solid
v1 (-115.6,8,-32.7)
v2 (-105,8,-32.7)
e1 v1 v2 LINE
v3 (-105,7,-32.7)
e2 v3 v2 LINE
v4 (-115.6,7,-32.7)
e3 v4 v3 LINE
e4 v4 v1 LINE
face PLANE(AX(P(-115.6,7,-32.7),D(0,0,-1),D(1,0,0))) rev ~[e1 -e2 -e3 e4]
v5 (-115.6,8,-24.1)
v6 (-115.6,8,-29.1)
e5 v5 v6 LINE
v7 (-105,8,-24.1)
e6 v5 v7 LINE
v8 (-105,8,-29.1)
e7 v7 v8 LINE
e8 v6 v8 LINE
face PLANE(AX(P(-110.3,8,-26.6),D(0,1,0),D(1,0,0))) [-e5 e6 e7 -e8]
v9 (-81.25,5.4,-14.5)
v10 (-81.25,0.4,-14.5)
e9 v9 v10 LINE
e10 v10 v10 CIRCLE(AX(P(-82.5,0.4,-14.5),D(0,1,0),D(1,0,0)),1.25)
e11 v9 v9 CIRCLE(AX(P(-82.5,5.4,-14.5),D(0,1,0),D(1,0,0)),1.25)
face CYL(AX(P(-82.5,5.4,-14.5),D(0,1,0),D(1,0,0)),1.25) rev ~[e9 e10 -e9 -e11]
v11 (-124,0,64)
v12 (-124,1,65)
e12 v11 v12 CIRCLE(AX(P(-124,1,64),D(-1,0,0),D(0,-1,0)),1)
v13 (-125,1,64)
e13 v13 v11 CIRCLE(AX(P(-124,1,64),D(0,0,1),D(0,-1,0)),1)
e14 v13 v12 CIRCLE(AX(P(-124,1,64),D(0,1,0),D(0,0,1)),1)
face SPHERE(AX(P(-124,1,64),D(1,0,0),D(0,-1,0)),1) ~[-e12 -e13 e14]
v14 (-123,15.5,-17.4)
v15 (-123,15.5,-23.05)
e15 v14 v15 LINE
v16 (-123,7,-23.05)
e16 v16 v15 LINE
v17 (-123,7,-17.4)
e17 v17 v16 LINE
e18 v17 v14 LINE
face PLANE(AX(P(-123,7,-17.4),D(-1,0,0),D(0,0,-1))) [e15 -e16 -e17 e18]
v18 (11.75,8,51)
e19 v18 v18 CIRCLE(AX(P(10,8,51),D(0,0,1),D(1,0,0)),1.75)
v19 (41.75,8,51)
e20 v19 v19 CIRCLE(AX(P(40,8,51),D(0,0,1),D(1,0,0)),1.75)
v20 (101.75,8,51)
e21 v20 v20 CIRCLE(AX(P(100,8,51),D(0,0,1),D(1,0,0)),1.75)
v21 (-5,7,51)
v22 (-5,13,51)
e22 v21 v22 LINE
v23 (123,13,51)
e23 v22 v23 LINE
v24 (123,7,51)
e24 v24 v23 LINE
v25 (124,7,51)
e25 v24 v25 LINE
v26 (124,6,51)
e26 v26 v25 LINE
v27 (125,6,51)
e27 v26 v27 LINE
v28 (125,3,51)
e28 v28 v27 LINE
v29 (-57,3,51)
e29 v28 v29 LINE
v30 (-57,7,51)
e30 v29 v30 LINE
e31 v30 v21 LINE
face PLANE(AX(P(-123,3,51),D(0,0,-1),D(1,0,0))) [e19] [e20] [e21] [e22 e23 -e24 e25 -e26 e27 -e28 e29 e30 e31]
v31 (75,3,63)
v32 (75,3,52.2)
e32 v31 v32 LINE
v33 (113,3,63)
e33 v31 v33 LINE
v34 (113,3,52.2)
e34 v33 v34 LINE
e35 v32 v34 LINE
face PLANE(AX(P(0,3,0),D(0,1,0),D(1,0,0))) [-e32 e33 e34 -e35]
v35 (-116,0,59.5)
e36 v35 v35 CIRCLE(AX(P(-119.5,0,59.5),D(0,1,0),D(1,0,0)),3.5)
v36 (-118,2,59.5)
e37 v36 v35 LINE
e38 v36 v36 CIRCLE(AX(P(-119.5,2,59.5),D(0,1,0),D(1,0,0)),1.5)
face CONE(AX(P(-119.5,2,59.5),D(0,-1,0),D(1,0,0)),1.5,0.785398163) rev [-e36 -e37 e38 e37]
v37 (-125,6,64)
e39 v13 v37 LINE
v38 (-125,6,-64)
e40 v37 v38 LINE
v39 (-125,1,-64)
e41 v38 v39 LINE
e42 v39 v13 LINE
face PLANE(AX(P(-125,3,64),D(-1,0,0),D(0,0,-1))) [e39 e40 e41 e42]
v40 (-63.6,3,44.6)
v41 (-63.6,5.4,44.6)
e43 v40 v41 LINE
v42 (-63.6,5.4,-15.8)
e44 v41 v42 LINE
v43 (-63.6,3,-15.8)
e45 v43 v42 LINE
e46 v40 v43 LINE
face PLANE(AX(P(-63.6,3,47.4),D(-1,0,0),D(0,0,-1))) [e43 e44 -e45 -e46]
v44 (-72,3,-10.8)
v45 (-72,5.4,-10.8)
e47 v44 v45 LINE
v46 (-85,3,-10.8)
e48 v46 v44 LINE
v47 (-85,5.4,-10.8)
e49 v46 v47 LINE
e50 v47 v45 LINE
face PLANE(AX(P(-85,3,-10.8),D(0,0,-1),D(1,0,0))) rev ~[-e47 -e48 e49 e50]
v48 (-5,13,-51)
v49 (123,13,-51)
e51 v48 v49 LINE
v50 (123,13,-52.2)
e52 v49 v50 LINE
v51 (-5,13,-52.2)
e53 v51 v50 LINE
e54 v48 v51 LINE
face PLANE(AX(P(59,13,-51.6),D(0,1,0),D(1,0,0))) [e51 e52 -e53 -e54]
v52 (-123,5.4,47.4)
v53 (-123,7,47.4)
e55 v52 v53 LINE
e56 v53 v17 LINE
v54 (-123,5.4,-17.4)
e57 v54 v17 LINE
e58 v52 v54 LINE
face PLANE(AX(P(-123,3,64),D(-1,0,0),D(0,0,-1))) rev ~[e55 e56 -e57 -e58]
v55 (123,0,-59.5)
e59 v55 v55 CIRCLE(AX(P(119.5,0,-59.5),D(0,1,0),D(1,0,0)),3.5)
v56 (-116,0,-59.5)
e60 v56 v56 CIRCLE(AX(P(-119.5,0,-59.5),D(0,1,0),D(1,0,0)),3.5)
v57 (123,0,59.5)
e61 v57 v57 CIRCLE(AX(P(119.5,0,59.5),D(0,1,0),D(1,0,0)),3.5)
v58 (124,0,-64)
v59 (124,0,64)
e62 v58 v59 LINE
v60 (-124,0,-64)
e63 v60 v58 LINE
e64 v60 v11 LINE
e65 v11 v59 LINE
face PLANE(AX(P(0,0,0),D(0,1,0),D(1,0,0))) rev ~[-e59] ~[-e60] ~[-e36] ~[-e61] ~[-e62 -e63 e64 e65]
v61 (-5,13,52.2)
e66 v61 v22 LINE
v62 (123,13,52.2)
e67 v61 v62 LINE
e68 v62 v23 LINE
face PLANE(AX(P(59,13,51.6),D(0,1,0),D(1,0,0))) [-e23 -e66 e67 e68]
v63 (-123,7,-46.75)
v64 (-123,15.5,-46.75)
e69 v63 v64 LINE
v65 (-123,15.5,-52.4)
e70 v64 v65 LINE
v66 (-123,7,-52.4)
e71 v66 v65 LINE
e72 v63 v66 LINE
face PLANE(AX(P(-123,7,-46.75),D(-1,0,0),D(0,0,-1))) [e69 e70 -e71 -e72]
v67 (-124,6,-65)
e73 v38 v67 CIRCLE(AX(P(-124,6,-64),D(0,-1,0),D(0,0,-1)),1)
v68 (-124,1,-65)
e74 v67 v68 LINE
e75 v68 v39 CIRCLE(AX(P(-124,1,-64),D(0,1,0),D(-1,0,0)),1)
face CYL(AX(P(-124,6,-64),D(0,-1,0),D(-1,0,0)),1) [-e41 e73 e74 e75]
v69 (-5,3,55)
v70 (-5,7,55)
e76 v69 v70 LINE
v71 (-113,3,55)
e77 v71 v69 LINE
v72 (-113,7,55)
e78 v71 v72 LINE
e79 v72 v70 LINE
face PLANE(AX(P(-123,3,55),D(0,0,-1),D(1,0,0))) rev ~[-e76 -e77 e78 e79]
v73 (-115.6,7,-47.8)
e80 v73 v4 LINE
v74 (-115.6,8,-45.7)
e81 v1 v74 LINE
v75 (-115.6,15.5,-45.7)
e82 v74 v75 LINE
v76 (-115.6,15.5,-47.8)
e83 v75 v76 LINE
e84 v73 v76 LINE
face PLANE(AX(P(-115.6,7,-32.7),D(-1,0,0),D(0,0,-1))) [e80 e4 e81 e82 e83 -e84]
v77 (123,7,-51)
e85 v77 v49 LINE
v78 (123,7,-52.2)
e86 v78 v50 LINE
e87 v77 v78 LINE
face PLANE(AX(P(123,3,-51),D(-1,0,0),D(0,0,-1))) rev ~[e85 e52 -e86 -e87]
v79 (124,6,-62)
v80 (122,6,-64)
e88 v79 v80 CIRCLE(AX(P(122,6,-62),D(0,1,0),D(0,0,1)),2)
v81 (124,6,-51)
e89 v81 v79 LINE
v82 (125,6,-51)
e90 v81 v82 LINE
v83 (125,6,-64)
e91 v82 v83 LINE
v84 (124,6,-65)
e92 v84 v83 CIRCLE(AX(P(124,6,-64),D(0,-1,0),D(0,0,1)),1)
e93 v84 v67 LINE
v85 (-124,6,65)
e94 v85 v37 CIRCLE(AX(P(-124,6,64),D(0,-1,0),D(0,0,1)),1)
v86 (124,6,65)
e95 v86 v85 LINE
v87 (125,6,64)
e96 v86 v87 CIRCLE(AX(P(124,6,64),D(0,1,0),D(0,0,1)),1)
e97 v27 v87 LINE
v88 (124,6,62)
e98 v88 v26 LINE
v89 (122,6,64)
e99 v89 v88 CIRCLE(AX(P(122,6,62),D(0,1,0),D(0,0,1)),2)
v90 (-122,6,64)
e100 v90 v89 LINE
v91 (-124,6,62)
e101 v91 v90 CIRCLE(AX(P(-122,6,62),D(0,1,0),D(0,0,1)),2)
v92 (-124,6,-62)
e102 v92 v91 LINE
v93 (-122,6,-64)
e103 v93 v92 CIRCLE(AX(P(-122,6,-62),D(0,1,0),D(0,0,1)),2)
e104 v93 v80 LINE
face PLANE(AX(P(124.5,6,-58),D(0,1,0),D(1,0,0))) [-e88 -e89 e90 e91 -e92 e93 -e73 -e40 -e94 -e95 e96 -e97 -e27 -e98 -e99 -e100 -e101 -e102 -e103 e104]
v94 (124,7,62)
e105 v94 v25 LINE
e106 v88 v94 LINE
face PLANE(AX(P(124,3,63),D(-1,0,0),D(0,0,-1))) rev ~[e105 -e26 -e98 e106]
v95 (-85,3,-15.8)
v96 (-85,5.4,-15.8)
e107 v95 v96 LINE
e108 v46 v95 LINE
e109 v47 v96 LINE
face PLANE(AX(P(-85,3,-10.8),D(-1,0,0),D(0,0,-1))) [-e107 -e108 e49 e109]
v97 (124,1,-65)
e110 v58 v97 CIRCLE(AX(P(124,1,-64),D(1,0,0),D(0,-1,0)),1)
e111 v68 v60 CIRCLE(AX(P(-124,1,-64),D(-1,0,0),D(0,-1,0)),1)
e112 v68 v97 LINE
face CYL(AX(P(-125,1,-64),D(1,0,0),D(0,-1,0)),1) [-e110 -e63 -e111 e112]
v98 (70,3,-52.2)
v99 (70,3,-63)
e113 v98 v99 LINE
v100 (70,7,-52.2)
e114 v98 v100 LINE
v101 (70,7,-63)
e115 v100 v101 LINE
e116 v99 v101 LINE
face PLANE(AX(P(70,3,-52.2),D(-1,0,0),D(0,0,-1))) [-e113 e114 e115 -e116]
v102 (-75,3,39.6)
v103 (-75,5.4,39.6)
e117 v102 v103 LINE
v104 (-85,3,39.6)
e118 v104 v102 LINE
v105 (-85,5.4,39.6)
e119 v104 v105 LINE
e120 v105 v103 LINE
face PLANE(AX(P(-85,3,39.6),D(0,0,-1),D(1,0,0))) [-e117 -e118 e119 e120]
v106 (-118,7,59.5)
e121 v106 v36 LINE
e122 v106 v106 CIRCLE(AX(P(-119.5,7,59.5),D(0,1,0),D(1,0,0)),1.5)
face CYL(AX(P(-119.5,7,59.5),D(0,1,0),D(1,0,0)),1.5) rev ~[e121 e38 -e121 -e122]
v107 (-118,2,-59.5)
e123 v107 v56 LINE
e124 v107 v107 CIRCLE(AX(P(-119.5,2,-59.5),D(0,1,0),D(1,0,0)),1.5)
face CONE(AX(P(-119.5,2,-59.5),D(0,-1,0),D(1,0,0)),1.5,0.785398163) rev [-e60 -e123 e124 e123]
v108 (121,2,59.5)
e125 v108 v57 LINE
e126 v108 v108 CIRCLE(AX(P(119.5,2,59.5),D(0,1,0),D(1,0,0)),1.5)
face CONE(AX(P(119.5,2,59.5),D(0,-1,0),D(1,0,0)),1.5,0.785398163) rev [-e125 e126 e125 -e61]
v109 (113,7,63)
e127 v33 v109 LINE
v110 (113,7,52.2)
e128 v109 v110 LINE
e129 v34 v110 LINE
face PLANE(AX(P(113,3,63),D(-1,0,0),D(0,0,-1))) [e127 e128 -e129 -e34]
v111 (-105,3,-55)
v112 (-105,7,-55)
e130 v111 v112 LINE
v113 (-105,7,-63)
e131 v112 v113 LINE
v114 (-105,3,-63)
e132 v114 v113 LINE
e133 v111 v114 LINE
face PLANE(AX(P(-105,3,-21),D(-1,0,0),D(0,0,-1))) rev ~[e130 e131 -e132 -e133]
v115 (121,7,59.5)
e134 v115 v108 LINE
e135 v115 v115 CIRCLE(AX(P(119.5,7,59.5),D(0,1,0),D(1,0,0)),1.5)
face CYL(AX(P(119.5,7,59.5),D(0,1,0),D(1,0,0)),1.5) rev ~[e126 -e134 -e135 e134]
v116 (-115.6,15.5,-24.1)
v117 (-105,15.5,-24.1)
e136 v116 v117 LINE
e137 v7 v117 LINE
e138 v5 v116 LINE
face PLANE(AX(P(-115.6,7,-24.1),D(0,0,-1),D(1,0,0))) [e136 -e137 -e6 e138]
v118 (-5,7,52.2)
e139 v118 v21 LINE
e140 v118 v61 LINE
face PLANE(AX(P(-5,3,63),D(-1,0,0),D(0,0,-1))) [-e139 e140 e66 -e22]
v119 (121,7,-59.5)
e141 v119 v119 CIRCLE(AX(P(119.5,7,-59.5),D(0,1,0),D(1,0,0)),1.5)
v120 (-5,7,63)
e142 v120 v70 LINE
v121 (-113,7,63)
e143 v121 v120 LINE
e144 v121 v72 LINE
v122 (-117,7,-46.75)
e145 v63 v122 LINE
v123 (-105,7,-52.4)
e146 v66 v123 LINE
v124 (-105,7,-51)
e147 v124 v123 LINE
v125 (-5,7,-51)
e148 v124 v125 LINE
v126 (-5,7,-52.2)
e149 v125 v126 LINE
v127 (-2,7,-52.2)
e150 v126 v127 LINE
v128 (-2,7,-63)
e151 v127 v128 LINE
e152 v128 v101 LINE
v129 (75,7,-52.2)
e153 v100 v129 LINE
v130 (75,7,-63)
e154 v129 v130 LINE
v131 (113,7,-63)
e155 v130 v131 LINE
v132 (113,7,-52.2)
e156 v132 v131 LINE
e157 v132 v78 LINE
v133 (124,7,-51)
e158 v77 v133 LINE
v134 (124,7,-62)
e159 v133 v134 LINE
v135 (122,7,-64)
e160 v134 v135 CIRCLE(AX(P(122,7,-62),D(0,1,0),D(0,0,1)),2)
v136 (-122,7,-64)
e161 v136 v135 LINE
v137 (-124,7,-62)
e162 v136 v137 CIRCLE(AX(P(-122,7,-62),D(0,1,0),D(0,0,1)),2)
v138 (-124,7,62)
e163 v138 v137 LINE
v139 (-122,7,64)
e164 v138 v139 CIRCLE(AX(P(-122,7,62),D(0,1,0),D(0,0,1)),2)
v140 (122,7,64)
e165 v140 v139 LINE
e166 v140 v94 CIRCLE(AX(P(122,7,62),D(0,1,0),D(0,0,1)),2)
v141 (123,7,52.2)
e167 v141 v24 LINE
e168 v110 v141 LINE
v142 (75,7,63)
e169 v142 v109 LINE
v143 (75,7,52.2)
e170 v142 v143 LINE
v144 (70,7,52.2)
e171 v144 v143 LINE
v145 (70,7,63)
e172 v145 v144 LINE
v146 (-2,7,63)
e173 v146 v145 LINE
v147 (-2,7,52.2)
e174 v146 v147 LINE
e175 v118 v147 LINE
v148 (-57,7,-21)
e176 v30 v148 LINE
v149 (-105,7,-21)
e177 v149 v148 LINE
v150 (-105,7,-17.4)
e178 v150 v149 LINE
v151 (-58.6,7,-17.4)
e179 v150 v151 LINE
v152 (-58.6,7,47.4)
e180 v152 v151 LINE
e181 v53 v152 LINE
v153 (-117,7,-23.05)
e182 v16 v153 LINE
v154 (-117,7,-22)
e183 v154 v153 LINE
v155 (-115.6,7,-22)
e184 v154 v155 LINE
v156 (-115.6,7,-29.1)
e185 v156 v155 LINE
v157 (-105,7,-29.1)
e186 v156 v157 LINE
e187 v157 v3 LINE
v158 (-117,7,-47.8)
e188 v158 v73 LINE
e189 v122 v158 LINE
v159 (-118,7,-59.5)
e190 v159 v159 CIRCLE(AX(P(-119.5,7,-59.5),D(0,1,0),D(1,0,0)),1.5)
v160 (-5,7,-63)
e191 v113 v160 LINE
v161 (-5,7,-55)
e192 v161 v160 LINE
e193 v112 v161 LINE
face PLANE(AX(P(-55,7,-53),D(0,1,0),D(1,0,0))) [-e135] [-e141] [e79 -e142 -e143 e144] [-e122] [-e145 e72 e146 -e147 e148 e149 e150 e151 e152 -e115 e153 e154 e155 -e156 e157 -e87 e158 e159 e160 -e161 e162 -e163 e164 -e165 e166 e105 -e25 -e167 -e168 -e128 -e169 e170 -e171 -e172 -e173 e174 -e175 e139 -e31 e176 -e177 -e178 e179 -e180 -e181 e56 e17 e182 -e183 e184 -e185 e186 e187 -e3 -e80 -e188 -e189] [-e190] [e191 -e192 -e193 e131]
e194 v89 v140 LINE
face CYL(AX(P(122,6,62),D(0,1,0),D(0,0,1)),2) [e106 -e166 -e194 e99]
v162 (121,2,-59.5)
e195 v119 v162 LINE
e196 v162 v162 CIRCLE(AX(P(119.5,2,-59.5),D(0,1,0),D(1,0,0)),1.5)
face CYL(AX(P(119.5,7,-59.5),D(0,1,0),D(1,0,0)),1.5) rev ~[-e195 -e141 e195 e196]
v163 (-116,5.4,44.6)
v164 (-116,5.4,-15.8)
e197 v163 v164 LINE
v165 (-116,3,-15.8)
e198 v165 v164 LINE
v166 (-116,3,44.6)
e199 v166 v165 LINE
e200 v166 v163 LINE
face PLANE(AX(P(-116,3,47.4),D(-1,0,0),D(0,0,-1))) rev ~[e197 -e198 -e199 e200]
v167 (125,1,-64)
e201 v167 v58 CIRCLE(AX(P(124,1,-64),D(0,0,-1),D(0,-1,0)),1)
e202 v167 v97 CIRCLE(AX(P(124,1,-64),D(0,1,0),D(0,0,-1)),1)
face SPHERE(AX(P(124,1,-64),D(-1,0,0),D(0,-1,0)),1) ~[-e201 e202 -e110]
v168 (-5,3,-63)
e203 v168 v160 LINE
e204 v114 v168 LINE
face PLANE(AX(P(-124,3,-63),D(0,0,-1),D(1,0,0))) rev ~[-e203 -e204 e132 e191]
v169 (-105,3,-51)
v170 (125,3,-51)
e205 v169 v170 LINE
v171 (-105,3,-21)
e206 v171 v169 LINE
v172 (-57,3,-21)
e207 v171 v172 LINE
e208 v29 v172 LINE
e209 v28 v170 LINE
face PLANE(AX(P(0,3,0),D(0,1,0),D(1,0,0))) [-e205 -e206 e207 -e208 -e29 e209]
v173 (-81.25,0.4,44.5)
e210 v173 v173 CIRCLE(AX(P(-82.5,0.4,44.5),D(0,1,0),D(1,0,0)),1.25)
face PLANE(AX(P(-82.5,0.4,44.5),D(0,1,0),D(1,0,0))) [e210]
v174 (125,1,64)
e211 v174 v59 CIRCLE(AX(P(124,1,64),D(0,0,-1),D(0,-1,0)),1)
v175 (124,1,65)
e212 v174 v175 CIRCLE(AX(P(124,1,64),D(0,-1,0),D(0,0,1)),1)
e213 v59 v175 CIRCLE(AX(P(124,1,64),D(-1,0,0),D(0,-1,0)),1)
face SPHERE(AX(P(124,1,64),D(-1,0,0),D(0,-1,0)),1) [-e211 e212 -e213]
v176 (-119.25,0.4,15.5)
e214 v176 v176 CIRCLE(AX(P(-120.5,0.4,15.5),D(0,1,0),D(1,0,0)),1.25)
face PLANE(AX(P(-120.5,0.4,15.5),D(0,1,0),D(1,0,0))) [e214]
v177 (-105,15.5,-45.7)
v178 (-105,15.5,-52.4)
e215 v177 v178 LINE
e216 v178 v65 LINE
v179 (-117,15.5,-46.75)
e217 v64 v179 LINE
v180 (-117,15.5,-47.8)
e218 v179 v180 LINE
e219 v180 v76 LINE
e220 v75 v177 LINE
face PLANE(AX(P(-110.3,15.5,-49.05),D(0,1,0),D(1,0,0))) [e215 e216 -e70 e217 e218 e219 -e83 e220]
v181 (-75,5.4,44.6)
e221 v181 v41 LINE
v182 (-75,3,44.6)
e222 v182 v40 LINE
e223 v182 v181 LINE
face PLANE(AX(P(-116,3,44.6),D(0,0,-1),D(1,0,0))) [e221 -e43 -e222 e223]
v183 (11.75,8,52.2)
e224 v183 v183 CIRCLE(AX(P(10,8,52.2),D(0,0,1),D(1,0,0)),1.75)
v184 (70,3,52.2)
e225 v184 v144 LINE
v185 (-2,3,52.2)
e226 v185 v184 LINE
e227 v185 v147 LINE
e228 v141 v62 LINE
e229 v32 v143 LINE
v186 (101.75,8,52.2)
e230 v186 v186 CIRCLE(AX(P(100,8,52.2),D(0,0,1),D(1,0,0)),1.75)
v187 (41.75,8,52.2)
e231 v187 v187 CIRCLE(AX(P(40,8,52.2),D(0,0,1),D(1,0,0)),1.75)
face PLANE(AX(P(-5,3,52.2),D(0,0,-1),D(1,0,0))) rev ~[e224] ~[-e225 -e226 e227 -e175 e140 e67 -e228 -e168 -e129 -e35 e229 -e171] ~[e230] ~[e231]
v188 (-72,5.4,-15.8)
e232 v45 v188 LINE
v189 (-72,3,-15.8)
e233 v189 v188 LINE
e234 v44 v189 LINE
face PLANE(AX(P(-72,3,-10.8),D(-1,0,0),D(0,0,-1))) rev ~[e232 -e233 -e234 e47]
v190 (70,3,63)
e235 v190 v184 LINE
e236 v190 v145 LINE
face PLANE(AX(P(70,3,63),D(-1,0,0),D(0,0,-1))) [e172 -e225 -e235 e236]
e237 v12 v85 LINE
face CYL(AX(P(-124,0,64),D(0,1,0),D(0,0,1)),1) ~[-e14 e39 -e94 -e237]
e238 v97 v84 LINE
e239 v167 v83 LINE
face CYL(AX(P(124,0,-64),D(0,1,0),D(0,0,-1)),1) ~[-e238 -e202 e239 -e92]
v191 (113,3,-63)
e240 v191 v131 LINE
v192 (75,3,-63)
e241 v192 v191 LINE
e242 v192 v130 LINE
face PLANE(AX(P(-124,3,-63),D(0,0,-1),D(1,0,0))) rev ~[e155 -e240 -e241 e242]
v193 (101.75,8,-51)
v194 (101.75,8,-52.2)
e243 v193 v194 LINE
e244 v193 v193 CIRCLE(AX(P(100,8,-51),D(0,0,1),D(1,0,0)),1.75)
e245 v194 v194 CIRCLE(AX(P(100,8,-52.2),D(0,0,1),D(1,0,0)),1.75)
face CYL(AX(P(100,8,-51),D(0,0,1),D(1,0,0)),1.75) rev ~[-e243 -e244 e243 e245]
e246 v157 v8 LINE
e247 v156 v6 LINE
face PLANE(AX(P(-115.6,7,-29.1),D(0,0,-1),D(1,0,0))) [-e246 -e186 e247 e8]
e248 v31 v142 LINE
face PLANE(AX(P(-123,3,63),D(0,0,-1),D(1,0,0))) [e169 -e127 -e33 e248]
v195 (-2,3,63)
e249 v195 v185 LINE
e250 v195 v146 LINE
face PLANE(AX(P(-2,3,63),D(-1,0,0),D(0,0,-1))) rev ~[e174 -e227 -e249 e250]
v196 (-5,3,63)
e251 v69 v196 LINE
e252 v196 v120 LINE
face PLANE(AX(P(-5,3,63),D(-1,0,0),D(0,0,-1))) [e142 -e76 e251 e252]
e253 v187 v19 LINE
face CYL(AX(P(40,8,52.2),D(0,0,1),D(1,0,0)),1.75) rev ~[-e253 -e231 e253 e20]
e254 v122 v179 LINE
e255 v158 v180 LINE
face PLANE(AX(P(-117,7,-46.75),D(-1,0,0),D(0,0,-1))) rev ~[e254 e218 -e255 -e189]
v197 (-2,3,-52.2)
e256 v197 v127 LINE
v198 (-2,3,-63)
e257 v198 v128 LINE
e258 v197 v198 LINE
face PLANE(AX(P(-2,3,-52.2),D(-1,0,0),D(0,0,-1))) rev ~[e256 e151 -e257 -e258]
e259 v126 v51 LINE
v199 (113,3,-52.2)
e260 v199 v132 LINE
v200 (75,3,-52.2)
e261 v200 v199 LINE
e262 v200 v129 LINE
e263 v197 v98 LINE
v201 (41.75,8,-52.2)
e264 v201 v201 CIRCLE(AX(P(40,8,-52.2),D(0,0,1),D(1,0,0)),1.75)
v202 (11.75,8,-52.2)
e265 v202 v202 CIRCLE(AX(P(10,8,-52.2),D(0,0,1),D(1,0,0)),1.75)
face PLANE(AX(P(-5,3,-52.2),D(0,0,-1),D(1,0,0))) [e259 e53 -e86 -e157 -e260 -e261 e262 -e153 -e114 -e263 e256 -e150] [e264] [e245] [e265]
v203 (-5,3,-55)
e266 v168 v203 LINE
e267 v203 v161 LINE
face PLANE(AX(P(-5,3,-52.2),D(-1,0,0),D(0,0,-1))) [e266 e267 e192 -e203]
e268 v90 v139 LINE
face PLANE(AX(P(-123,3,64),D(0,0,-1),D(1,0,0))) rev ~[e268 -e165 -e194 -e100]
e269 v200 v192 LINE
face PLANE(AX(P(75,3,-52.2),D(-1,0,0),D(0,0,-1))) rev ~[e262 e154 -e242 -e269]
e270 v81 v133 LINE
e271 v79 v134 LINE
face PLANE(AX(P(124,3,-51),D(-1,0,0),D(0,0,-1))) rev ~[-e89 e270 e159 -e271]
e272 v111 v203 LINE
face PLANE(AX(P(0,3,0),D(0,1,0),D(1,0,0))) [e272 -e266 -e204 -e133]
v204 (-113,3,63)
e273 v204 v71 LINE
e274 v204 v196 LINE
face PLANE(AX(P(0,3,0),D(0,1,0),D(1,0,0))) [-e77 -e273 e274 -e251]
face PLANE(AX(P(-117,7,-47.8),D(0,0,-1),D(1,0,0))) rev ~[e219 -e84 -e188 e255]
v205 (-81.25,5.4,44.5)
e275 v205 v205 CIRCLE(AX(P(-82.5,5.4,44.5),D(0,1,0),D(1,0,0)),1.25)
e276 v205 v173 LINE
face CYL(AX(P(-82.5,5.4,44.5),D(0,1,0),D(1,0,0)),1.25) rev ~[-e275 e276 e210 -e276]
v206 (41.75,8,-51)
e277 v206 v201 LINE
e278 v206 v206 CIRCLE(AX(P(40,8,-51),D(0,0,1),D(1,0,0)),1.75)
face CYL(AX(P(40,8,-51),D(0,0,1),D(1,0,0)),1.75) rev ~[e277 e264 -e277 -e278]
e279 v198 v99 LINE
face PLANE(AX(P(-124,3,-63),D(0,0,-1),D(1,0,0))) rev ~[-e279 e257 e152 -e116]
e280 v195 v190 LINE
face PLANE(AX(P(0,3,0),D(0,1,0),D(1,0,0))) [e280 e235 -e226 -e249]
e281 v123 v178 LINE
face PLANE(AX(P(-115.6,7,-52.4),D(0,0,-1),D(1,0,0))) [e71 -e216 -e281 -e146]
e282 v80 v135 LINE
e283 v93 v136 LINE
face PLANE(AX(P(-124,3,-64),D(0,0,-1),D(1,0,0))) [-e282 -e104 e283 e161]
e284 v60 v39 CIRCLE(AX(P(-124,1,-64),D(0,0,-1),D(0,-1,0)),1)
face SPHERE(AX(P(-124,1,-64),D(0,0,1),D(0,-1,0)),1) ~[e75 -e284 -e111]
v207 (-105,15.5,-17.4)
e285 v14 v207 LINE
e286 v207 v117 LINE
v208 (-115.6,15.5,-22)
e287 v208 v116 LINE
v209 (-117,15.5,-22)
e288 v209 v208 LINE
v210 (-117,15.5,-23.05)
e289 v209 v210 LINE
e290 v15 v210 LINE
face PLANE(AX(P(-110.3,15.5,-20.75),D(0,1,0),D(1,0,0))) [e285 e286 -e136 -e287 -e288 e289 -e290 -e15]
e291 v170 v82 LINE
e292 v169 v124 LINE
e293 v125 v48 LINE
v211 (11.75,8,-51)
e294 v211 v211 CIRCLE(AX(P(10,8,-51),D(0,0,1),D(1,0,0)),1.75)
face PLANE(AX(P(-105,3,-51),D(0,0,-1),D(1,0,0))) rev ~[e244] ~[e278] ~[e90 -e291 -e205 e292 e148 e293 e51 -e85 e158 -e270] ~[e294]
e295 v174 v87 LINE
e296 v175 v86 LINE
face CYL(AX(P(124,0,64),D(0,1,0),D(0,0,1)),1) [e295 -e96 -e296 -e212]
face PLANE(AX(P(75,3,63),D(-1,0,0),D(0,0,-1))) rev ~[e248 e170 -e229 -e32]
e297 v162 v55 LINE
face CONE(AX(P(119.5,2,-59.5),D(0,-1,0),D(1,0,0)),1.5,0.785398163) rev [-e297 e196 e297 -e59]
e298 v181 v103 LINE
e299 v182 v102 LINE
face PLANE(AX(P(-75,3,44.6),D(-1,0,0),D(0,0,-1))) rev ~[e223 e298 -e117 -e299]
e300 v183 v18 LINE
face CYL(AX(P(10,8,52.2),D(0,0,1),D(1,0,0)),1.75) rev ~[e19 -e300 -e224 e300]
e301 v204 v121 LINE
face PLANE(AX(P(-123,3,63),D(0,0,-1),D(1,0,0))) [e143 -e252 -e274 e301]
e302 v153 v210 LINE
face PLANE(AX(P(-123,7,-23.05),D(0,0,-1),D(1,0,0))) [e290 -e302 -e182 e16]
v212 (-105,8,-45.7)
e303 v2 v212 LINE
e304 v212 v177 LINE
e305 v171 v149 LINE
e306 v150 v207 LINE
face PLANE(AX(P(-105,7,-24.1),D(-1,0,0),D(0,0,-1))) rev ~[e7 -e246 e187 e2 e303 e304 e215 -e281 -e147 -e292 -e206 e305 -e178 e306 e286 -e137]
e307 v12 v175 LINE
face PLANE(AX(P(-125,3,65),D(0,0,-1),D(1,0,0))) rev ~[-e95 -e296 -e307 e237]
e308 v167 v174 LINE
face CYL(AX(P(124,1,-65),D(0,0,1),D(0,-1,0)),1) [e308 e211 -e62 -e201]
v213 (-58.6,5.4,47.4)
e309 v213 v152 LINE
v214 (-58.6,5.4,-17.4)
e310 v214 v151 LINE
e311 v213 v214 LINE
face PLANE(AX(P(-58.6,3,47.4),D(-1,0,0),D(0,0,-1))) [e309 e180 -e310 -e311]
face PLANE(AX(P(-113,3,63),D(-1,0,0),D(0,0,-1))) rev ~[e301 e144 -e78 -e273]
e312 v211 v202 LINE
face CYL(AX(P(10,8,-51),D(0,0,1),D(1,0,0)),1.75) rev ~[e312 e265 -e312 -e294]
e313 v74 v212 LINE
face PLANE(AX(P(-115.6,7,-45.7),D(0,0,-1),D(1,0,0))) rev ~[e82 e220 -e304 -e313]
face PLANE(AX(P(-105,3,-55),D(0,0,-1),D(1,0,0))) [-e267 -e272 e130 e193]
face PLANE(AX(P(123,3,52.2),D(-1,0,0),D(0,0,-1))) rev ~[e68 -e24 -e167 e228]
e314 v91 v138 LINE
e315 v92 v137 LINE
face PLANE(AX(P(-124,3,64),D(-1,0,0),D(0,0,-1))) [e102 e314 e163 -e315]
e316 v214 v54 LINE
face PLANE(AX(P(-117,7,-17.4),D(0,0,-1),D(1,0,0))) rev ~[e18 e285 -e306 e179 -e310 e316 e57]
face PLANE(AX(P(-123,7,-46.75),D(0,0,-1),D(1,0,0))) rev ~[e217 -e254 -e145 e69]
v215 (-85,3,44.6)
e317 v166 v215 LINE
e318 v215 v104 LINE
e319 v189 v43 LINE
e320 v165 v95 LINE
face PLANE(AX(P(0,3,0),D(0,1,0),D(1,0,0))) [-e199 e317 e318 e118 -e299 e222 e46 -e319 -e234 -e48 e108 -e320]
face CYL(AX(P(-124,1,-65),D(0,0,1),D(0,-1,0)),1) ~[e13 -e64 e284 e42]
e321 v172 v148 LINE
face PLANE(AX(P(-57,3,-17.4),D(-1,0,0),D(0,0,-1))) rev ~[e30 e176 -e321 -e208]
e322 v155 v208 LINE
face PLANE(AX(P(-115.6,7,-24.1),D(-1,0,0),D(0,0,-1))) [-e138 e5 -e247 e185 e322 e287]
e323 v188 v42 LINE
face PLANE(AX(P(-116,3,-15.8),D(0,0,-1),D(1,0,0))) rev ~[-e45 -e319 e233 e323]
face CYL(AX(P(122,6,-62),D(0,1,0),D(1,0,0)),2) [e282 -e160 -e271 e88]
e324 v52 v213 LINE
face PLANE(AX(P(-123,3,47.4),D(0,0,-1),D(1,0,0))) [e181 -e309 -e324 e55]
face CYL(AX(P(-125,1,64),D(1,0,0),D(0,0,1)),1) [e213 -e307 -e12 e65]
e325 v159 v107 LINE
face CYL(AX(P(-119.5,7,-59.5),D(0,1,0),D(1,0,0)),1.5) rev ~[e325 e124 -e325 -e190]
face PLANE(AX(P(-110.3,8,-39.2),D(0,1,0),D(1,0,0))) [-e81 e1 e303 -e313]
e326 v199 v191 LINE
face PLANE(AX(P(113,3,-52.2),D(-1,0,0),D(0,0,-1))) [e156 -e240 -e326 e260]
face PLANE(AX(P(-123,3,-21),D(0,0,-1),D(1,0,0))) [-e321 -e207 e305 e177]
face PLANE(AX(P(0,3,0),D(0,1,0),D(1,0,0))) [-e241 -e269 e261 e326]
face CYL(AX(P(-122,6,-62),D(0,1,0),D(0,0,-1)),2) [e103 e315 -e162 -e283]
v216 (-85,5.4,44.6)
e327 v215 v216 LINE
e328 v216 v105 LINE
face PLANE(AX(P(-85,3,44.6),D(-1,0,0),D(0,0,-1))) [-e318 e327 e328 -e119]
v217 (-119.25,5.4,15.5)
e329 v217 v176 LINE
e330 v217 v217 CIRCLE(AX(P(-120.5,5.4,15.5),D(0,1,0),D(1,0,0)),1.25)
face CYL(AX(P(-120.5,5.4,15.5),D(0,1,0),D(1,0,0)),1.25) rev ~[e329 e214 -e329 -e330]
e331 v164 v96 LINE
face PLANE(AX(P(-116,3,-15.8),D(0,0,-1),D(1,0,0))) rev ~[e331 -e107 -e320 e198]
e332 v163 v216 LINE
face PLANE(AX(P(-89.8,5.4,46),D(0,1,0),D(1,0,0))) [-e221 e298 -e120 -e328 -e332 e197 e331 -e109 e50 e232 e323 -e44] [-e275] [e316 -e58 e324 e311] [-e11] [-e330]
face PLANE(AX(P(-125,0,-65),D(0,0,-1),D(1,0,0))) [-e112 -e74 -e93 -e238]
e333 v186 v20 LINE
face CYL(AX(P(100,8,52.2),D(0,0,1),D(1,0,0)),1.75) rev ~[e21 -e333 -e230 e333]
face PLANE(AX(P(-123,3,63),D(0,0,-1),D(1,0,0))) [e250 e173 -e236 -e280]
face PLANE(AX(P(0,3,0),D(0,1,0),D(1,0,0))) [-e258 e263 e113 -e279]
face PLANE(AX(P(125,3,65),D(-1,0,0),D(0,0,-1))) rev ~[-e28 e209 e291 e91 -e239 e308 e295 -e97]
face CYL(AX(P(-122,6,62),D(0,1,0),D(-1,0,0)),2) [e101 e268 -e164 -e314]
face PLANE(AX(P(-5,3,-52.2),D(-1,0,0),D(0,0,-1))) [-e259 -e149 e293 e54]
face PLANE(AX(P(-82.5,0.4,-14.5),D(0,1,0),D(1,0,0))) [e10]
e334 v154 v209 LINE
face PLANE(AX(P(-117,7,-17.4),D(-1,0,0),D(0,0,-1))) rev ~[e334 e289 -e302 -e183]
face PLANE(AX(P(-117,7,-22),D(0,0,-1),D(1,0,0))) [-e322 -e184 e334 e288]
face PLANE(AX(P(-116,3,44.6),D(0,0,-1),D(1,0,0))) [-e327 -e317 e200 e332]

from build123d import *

# Parameters (mm, degrees)
SKETCH1_W                     = 250
SKETCH1_H                     = 130
BOSS_EXTRUDE1_DEPTH           = 3
SKETCH2_W                     = 250
SKETCH2_H                     = 1
BOSS_EXTRUDE2_DEPTH           = 6
SKETCH3_W                     = 250
SKETCH3_H                     = 1
BOSS_EXTRUDE3_DEPTH           = 3
SKETCH4_W                     = 1
SKETCH4_H                     = 128
BOSS_EXTRUDE4_DEPTH           = 3
SKETCH6_W                     = 1
SKETCH6_H                     = 14
BOSS_EXTRUDE5_DEPTH           = 3
SKETCH7_W                     = 1
SKETCH7_H                     = 14
BOSS_EXTRUDE6_DEPTH           = 3
SKETCH8_W                     = 1
SKETCH8_H                     = 13
BOSS_EXTRUDE7_DEPTH           = 4
SKETCH10_W                    = 247
SKETCH10_H                    = 1
BOSS_EXTRUDE8_DEPTH           = 4
SKETCH11_W                    = 1
SKETCH11_H                    = 127
BOSS_EXTRUDE9_DEPTH           = 4
SKETCH14_W                    = 247
SKETCH14_H                    = 1
BOSS_EXTRUDE10_DEPTH          = 4
SKETCH15_W                    = 1
SKETCH15_H                    = 12
BOSS_EXTRUDE11_DEPTH          = 4
FILLET1_R                     = 1
SKETCH17_W                    = 128
SKETCH17_H                    = 1.2
BOSS_EXTRUDE12_DEPTH          = 10
SKETCH19_W                    = 128
SKETCH19_H                    = 1.2
BOSS_EXTRUDE13_DEPTH          = 10
SKETCH22_W                    = 3
SKETCH22_H                    = 10.8
BOSS_EXTRUDE14_DEPTH          = 4
SKETCH24_W                    = 3
SKETCH24_H                    = 10.8
BOSS_EXTRUDE15_DEPTH          = 4
FLOPPYMOUNTHOLE001_REACH      = 16
SKETCH25_R                    = 1.75
FLOPPYMOUNTHOLE002_REACH      = 16
SKETCH26_R                    = 1.75
FLOPPYMOUNTHOLE003_REACH      = 16
SKETCH27_R                    = 1.75
FLOPPYMOUNTHOLE004_REACH      = 119.2
SKETCH28_R                    = 1.75
FLOPPYMOUNTHOLE005_REACH      = 119.2
SKETCH29_R                    = 1.75
FLOPPYMOUNTHOLE006_REACH      = 119.2
SKETCH30_R                    = 1.75
SKETCH31_W                    = 5
SKETCH31_H                    = 10.8
BOSS_EXTRUDE16_DEPTH          = 4
SKETCH33_W                    = 5
SKETCH33_H                    = 10.8
BOSS_EXTRUDE18_DEPTH          = 4
FILLET2_R                     = 2
SKETCH35_W                    = 66
SKETCH35_H                    = 3.6
GWOUTER001_DEPTH              = 4
SKETCH36_W                    = 1.6
SKETCH36_H                    = 64.8
GWOUTER002_DEPTH              = 4
SKETCH37_W                    = 66
SKETCH37_H                    = 3.6
GWOUTER003_DEPTH              = 4
SKETCH38_W                    = 7
SKETCH38_H                    = 64.8
GWSUPPORTBACK_DEPTH           = 2.4
SKETCH39_W                    = 5
SKETCH39_H                    = 64.8
GWSUPPORTFRT_DEPTH            = 2.4
SKETCH40_W                    = 52.4
SKETCH40_H                    = 1.6
GWSUPPORTLT_DEPTH             = 2.4
SKETCH41_W                    = 52.4
SKETCH41_H                    = 2.8
GWSUPPORTRT_DEPTH             = 2.4
SKETCH43_W                    = 10
SKETCH43_H                    = 5
GWSCREWRT_DEPTH               = 2.4
SKETCH44_W                    = 118
SKETCH44_H                    = 4
BOSS_EXTRUDE28_DEPTH          = 4
SKETCH45_W                    = 18
SKETCH45_H                    = 42
BOSS_EXTRUDE29_DEPTH          = 4
SKETCH46_W                    = 10
SKETCH46_H                    = 8
BOSS_EXTRUDE30_DEPTH          = 4
SKETCH47_W                    = 10
SKETCH47_H                    = 10.8
BOSS_EXTRUDE31_DEPTH          = 4
SKETCH48_W                    = 10
SKETCH48_H                    = 10.8
BOSS_EXTRUDE32_DEPTH          = 4
SKETCH49_W                    = 100
SKETCH49_H                    = 4
BOSS_EXTRUDE33_DEPTH          = 4
SKETCH50_W                    = 13
SKETCH50_H                    = 5
GWSCREWLT_DEPTH               = 2.4
SKETCH51_R                    = 1.25
GWLSIDEMOUNTHOLE_DEPTH        = 5
SKETCH52_R                    = 1.25
GWRSIDEMOUNTHOLE_DEPTH        = 5
SKETCH53_R                    = 1.25
GWBACKMOUNTHOLE_DEPTH         = 5
SKETCH54_W                    = 6
SKETCH54_H                    = 5.65
MOLEX001_DEPTH                = 8.5
SKETCH55_W                    = 6
SKETCH55_H                    = 5.65
MOLEX002_DEPTH                = 8.5
SKETCH56_W                    = 1.4
SKETCH56_H                    = 4.6
MOLEX003_DEPTH                = 8.5
SKETCH57_W                    = 1.4
SKETCH57_H                    = 4.6
MOLEX004_DEPTH                = 8.5
SKETCH58_W                    = 10.6
SKETCH58_H                    = 6.7
MOLEX005_DEPTH                = 8.5
SKETCH59_W                    = 10.6
SKETCH59_H                    = 6.7
MOLEX006_DEPTH                = 8.5
SKETCH60_W                    = 10.6
SKETCH60_H                    = 13
MOLEX007_DEPTH                = 1
SKETCH61_W                    = 10.6
SKETCH61_H                    = 5
MOLEX008_DEPTH                = 1
SKETCH62_R                    = 1.5
CASEMUNTHOLE001_DEPTH         = 8
SKETCH63_R                    = 1.5
CASEMUNTHOLE002_DEPTH         = 8
SKETCH64_R                    = 1.5
CASEMUNTHOLE003_DEPTH         = 8
SKETCH65_R                    = 1.5
CASEMUNTHOLE004_DEPTH         = 8
CASEMOUNTHOLECOUNTERSINK_SIZE = 2


with BuildPart() as part:
    # Sketch1 → Boss-Extrude1 (new body)
    with BuildSketch(Plane(origin=(0, 0, 0), x_dir=(1, 0, 0), z_dir=(0, 1, 0))):
        Rectangle(SKETCH1_W, SKETCH1_H)
    extrude(amount=BOSS_EXTRUDE1_DEPTH)

    # Sketch2 → Boss-Extrude2 (add)
    with BuildSketch(Plane(origin=(0, 0, 0), x_dir=(1, 0, 0), z_dir=(0, 1, 0))):
        with Locations((0, 64.5)):
            Rectangle(SKETCH2_W, SKETCH2_H)
    extrude(amount=BOSS_EXTRUDE2_DEPTH)

    # Sketch3 → Boss-Extrude3 (add)
    with BuildSketch(Plane(origin=(0, 3, 0), x_dir=(1, 0, 0), z_dir=(0, 1, 0))):
        with Locations((0, -64.5)):
            Rectangle(SKETCH3_W, SKETCH3_H)
    extrude(amount=BOSS_EXTRUDE3_DEPTH)

    # Sketch4 → Boss-Extrude4 (add)
    with BuildSketch(Plane(origin=(0, 3, 0), x_dir=(1, 0, 0), z_dir=(0, 1, 0))):
        with Locations((-124.5, 0)):
            Rectangle(SKETCH4_W, SKETCH4_H)
    extrude(amount=BOSS_EXTRUDE4_DEPTH)

    # Sketch6 → Boss-Extrude5 (add)
    with BuildSketch(Plane(origin=(0, 3, 0), x_dir=(1, 0, 0), z_dir=(0, 1, 0))):
        with Locations((124.5, -58)):
            Rectangle(SKETCH6_W, SKETCH6_H)
    extrude(amount=BOSS_EXTRUDE5_DEPTH)

    # Sketch7 → Boss-Extrude6 (add)
    with BuildSketch(Plane(origin=(0, 3, 0), x_dir=(1, 0, 0), z_dir=(0, 1, 0))):
        with Locations((124.5, 58)):
            Rectangle(SKETCH7_W, SKETCH7_H)
    extrude(amount=BOSS_EXTRUDE6_DEPTH)

    # Sketch8 → Boss-Extrude7 (add)
    with BuildSketch(Plane(origin=(0, 3, 0), x_dir=(1, 0, 0), z_dir=(0, 1, 0))):
        with Locations((123.5, 57.5)):
            Rectangle(SKETCH8_W, SKETCH8_H)
    extrude(amount=BOSS_EXTRUDE7_DEPTH)

    # Sketch10 → Boss-Extrude8 (add)
    with BuildSketch(Plane(origin=(0, 3, 0), x_dir=(1, 0, 0), z_dir=(0, 1, 0))):
        with Locations((-0.5, 63.5)):
            Rectangle(SKETCH10_W, SKETCH10_H)
    extrude(amount=BOSS_EXTRUDE8_DEPTH)

    # Sketch11 → Boss-Extrude9 (add)
    with BuildSketch(Plane(origin=(0, 3, 0), x_dir=(1, 0, 0), z_dir=(0, 1, 0))):
        with Locations((-123.5, -0.5)):
            Rectangle(SKETCH11_W, SKETCH11_H)
    extrude(amount=BOSS_EXTRUDE9_DEPTH)

    # Sketch14 → Boss-Extrude10 (add)
    with BuildSketch(Plane(origin=(0, 3, 0), x_dir=(1, 0, 0), z_dir=(0, 1, 0))):
        with Locations((0.5, -63.5)):
            Rectangle(SKETCH14_W, SKETCH14_H)
    extrude(amount=BOSS_EXTRUDE10_DEPTH)

    # Sketch15 → Boss-Extrude11 (add)
    with BuildSketch(Plane(origin=(0, 3, 0), x_dir=(1, 0, 0), z_dir=(0, 1, 0))):
        with Locations((123.5, -57)):
            Rectangle(SKETCH15_W, SKETCH15_H)
    extrude(amount=BOSS_EXTRUDE11_DEPTH)

    # Fillet1
    fillet1_edges = [part.edges().sort_by_distance(p)[0] for p in [
        (0, 0, 65),
        (-125, 0, 0),
        (0, 0, -65),
        (125, 0, 0),
        (125, 3, 65),
        (-125, 3, 65),
        (-125, 3, -65),
        (125, 3, -65),
    ]]
    fillet(fillet1_edges, radius=FILLET1_R)

    # Sketch17 → Boss-Extrude12 (add)
    with BuildSketch(Plane(origin=(0, 3, 0), x_dir=(1, 0, 0), z_dir=(0, 1, 0))):
        with Locations((59, 51.6)):
            Rectangle(SKETCH17_W, SKETCH17_H)
    extrude(amount=BOSS_EXTRUDE12_DEPTH)

    # Sketch19 → Boss-Extrude13 (add)
    with BuildSketch(Plane(origin=(0, 3, 0), x_dir=(1, 0, 0), z_dir=(0, 1, 0))):
        with Locations((59, -51.6)):
            Rectangle(SKETCH19_W, SKETCH19_H)
    extrude(amount=BOSS_EXTRUDE13_DEPTH)

    # Sketch22 → Boss-Extrude14 (add)
    with BuildSketch(Plane(origin=(0, 3, 0), x_dir=(1, 0, 0), z_dir=(0, 1, 0))):
        with Locations((-3.5, -57.6)):
            Rectangle(SKETCH22_W, SKETCH22_H)
    extrude(amount=BOSS_EXTRUDE14_DEPTH)

    # Sketch24 → Boss-Extrude15 (add)
    with BuildSketch(Plane(origin=(0, 3, 0), x_dir=(1, 0, 0), z_dir=(0, 1, 0))):
        with Locations((-3.5, 57.6)):
            Rectangle(SKETCH24_W, SKETCH24_H)
    extrude(amount=BOSS_EXTRUDE15_DEPTH)

    # Sketch25 → FloppyMountHole001 (cut, up to next)
    with BuildSketch(Plane.XY.offset(-51), mode=Mode.PRIVATE) as floppymounthole001_sk1:
        with Locations((100, 8)):
            Circle(SKETCH25_R)
    floppymounthole001_tool1 = extrude(floppymounthole001_sk1.sketch, amount=-FLOPPYMOUNTHOLE001_REACH, mode=Mode.PRIVATE) & part.part
    add(floppymounthole001_tool1.solids().sort_by_distance((100, 8, -51))[0], mode=Mode.SUBTRACT)

    # Sketch26 → FloppyMountHole002 (cut, up to next)
    with BuildSketch(Plane.XY.offset(-51), mode=Mode.PRIVATE) as floppymounthole002_sk1:
        with Locations((40, 8)):
            Circle(SKETCH26_R)
    floppymounthole002_tool1 = extrude(floppymounthole002_sk1.sketch, amount=-FLOPPYMOUNTHOLE002_REACH, mode=Mode.PRIVATE) & part.part
    add(floppymounthole002_tool1.solids().sort_by_distance((40, 8, -51))[0], mode=Mode.SUBTRACT)

    # Sketch27 → FloppyMountHole003 (cut, up to next)
    with BuildSketch(Plane.XY.offset(-51), mode=Mode.PRIVATE) as floppymounthole003_sk1:
        with Locations((10, 8)):
            Circle(SKETCH27_R)
    floppymounthole003_tool1 = extrude(floppymounthole003_sk1.sketch, amount=-FLOPPYMOUNTHOLE003_REACH, mode=Mode.PRIVATE) & part.part
    add(floppymounthole003_tool1.solids().sort_by_distance((10, 8, -51))[0], mode=Mode.SUBTRACT)

    # Sketch28 → FloppyMountHole004 (cut, up to next)
    with BuildSketch(Plane.XY.offset(52.2), mode=Mode.PRIVATE) as floppymounthole004_sk1:
        with Locations((100, 8)):
            Circle(SKETCH28_R)
    floppymounthole004_tool1 = extrude(floppymounthole004_sk1.sketch, amount=-FLOPPYMOUNTHOLE004_REACH, mode=Mode.PRIVATE) & part.part
    add(floppymounthole004_tool1.solids().sort_by_distance((100, 8, 52.2))[0], mode=Mode.SUBTRACT)

    # Sketch29 → FloppyMountHole005 (cut, up to next)
    with BuildSketch(Plane.XY.offset(52.2), mode=Mode.PRIVATE) as floppymounthole005_sk1:
        with Locations((40, 8)):
            Circle(SKETCH29_R)
    floppymounthole005_tool1 = extrude(floppymounthole005_sk1.sketch, amount=-FLOPPYMOUNTHOLE005_REACH, mode=Mode.PRIVATE) & part.part
    add(floppymounthole005_tool1.solids().sort_by_distance((40, 8, 52.2))[0], mode=Mode.SUBTRACT)

    # Sketch30 → FloppyMountHole006 (cut, up to next)
    with BuildSketch(Plane.XY.offset(52.2), mode=Mode.PRIVATE) as floppymounthole006_sk1:
        with Locations((10, 8)):
            Circle(SKETCH30_R)
    floppymounthole006_tool1 = extrude(floppymounthole006_sk1.sketch, amount=-FLOPPYMOUNTHOLE006_REACH, mode=Mode.PRIVATE) & part.part
    add(floppymounthole006_tool1.solids().sort_by_distance((10, 8, 52.2))[0], mode=Mode.SUBTRACT)

    # Sketch31 → Boss-Extrude16 (add)
    with BuildSketch(Plane(origin=(0, 3, 0), x_dir=(1, 0, 0), z_dir=(0, 1, 0))):
        with Locations((72.5, -57.6)):
            Rectangle(SKETCH31_W, SKETCH31_H)
    extrude(amount=BOSS_EXTRUDE16_DEPTH)

    # Sketch33 → Boss-Extrude18 (add)
    with BuildSketch(Plane(origin=(0, 3, 0), x_dir=(1, 0, 0), z_dir=(0, 1, 0))):
        with Locations((72.5, 57.6)):
            Rectangle(SKETCH33_W, SKETCH33_H)
    extrude(amount=BOSS_EXTRUDE18_DEPTH)

    # Fillet2
    fillet2_edges = [part.edges().sort_by_distance(p)[0] for p in [
        (124, 6.5, -64),
        (-124, 6.5, -64),
        (-124, 6.5, 64),
        (124, 6.5, 64),
    ]]
    fillet(fillet2_edges, radius=FILLET2_R)

    # Sketch35 → GWOuter001 (add)
    with BuildSketch(Plane(origin=(0, 3, 0), x_dir=(1, 0, 0), z_dir=(0, 1, 0))):
        with Locations((-90, -49.2)):
            Rectangle(SKETCH35_W, SKETCH35_H)
    extrude(amount=GWOUTER001_DEPTH)

    # Sketch36 → GWOuter002 (add)
    with BuildSketch(Plane(origin=(0, 3, 0), x_dir=(1, 0, 0), z_dir=(0, 1, 0))):
        with Locations((-57.8, -15)):
            Rectangle(SKETCH36_W, SKETCH36_H)
    extrude(amount=GWOUTER002_DEPTH)

    # Sketch37 → GWOuter003 (add)
    with BuildSketch(Plane(origin=(0, 3, 0), x_dir=(1, 0, 0), z_dir=(0, 1, 0))):
        with Locations((-90, 19.2)):
            Rectangle(SKETCH37_W, SKETCH37_H)
    extrude(amount=GWOUTER003_DEPTH)

    # Sketch38 → GWSupportBack (add)
    with BuildSketch(Plane(origin=(0, 3, 0), x_dir=(1, 0, 0), z_dir=(0, 1, 0))):
        with Locations((-119.5, -15)):
            Rectangle(SKETCH38_W, SKETCH38_H)
    extrude(amount=GWSUPPORTBACK_DEPTH)

    # Sketch39 → GWSupportFrt (add)
    with BuildSketch(Plane(origin=(0, 3, 0), x_dir=(1, 0, 0), z_dir=(0, 1, 0))):
        with Locations((-61.1, -15)):
            Rectangle(SKETCH39_W, SKETCH39_H)
    extrude(amount=GWSUPPORTFRT_DEPTH)

    # Sketch40 → GWSupportLt (add)
    with BuildSketch(Plane(origin=(0, 3, 0), x_dir=(1, 0, 0), z_dir=(0, 1, 0))):
        with Locations((-89.8, 16.6)):
            Rectangle(SKETCH40_W, SKETCH40_H)
    extrude(amount=GWSUPPORTLT_DEPTH)

    # Sketch41 → GWSupportRt (add)
    with BuildSketch(Plane(origin=(0, 3, 0), x_dir=(1, 0, 0), z_dir=(0, 1, 0))):
        with Locations((-89.8, -46)):
            Rectangle(SKETCH41_W, SKETCH41_H)
    extrude(amount=GWSUPPORTRT_DEPTH)

    # Sketch43 → GWScrewRt (add)
    with BuildSketch(Plane(origin=(0, 3, 0), x_dir=(1, 0, 0), z_dir=(0, 1, 0))):
        with Locations((-80, -42.1)):
            Rectangle(SKETCH43_W, SKETCH43_H)
    extrude(amount=GWSCREWRT_DEPTH)

    # Sketch44 → Boss-Extrude28 (add)
    with BuildSketch(Plane(origin=(0, 3, 0), x_dir=(1, 0, 0), z_dir=(0, 1, 0))):
        with Locations((-64, -53)):
            Rectangle(SKETCH44_W, SKETCH44_H)
    extrude(amount=BOSS_EXTRUDE28_DEPTH)

    # Sketch45 → Boss-Extrude29 (add)
    with BuildSketch(Plane(origin=(0, 3, 0), x_dir=(1, 0, 0), z_dir=(0, 1, 0))):
        with Locations((-114, 42)):
            Rectangle(SKETCH45_W, SKETCH45_H)
    extrude(amount=BOSS_EXTRUDE29_DEPTH)

    # Sketch46 → Boss-Extrude30 (add)
    with BuildSketch(Plane(origin=(0, 3, 0), x_dir=(1, 0, 0), z_dir=(0, 1, 0))):
        with Locations((-118, -59)):
            Rectangle(SKETCH46_W, SKETCH46_H)
    extrude(amount=BOSS_EXTRUDE30_DEPTH)

    # Sketch47 → Boss-Extrude31 (add)
    with BuildSketch(Plane(origin=(0, 3, 0), x_dir=(1, 0, 0), z_dir=(0, 1, 0))):
        with Locations((118, 57.6)):
            Rectangle(SKETCH47_W, SKETCH47_H)
    extrude(amount=BOSS_EXTRUDE31_DEPTH)

    # Sketch48 → Boss-Extrude32 (add)
    with BuildSketch(Plane(origin=(0, 3, 0), x_dir=(1, 0, 0), z_dir=(0, 1, 0))):
        with Locations((118, -57.6)):
            Rectangle(SKETCH48_W, SKETCH48_H)
    extrude(amount=BOSS_EXTRUDE32_DEPTH)

    # Sketch49 → Boss-Extrude33 (add)
    with BuildSketch(Plane(origin=(0, 3, 0), x_dir=(1, 0, 0), z_dir=(0, 1, 0))):
        with Locations((-55, 53)):
            Rectangle(SKETCH49_W, SKETCH49_H)
    extrude(amount=BOSS_EXTRUDE33_DEPTH)

    # Sketch50 → GWScrewLt (add)
    with BuildSketch(Plane(origin=(0, 3, 0), x_dir=(1, 0, 0), z_dir=(0, 1, 0))):
        with Locations((-78.5, 13.3)):
            Rectangle(SKETCH50_W, SKETCH50_H)
    extrude(amount=GWSCREWLT_DEPTH)

    # Sketch51 → GWLSideMountHole (cut)
    with BuildSketch(Plane(origin=(0, 5.4, 0), x_dir=(1, 0, 0), z_dir=(0, 1, 0))):
        with Locations((-82.5, 14.5)):
            Circle(SKETCH51_R)
    extrude(amount=-GWLSIDEMOUNTHOLE_DEPTH, mode=Mode.SUBTRACT)

    # Sketch52 → GWRSideMountHole (cut)
    with BuildSketch(Plane(origin=(0, 5.4, 0), x_dir=(1, 0, 0), z_dir=(0, 1, 0))):
        with Locations((-82.5, -44.5)):
            Circle(SKETCH52_R)
    extrude(amount=-GWRSIDEMOUNTHOLE_DEPTH, mode=Mode.SUBTRACT)

    # Sketch53 → GWBackMountHole (cut)
    with BuildSketch(Plane(origin=(0, 5.4, 0), x_dir=(1, 0, 0), z_dir=(0, 1, 0))):
        with Locations((-120.5, -15.5)):
            Circle(SKETCH53_R)
    extrude(amount=-GWBACKMOUNTHOLE_DEPTH, mode=Mode.SUBTRACT)

    # Sketch54 → Molex001 (add)
    with BuildSketch(Plane(origin=(0, 7, 0), x_dir=(1, 0, 0), z_dir=(0, 1, 0))):
        with Locations((-120, 20.225)):
            Rectangle(SKETCH54_W, SKETCH54_H)
    extrude(amount=MOLEX001_DEPTH)

    # Sketch55 → Molex002 (add)
    with BuildSketch(Plane(origin=(0, 7, 0), x_dir=(1, 0, 0), z_dir=(0, 1, 0))):
        with Locations((-120, 49.575)):
            Rectangle(SKETCH55_W, SKETCH55_H)
    extrude(amount=MOLEX002_DEPTH)

    # Sketch56 → Molex003 (add)
    with BuildSketch(Plane(origin=(0, 7, 0), x_dir=(1, 0, 0), z_dir=(0, 1, 0))):
        with Locations((-116.3, 19.7)):
            Rectangle(SKETCH56_W, SKETCH56_H)
    extrude(amount=MOLEX003_DEPTH)

    # Sketch57 → Molex004 (add)
    with BuildSketch(Plane(origin=(0, 7, 0), x_dir=(1, 0, 0), z_dir=(0, 1, 0))):
        with Locations((-116.3, 50.1)):
            Rectangle(SKETCH57_W, SKETCH57_H)
    extrude(amount=MOLEX004_DEPTH)

    # Sketch58 → Molex005 (add)
    with BuildSketch(Plane(origin=(0, 7, 0), x_dir=(1, 0, 0), z_dir=(0, 1, 0))):
        with Locations((-110.3, 49.05)):
            Rectangle(SKETCH58_W, SKETCH58_H)
    extrude(amount=MOLEX005_DEPTH)

    # Sketch59 → Molex006 (add)
    with BuildSketch(Plane(origin=(0, 7, 0), x_dir=(1, 0, 0), z_dir=(0, 1, 0))):
        with Locations((-110.3, 20.75)):
            Rectangle(SKETCH59_W, SKETCH59_H)
    extrude(amount=MOLEX006_DEPTH)

    # Sketch60 → Molex007 (add)
    with BuildSketch(Plane(origin=(0, 7, 0), x_dir=(1, 0, 0), z_dir=(0, 1, 0))):
        with Locations((-110.3, 39.2)):
            Rectangle(SKETCH60_W, SKETCH60_H)
    extrude(amount=MOLEX007_DEPTH)

    # Sketch61 → Molex008 (add)
    with BuildSketch(Plane(origin=(0, 7, 0), x_dir=(1, 0, 0), z_dir=(0, 1, 0))):
        with Locations((-110.3, 26.6)):
            Rectangle(SKETCH61_W, SKETCH61_H)
    extrude(amount=MOLEX008_DEPTH)

    # Sketch62 → CaseMuntHole001 (cut, through all)
    with BuildSketch(Plane(origin=(0, 7, 0), x_dir=(1, 0, 0), z_dir=(0, 1, 0))):
        with Locations((-119.5, 59.5)):
            Circle(SKETCH62_R)
    extrude(amount=-CASEMUNTHOLE001_DEPTH, mode=Mode.SUBTRACT)

    # Sketch63 → CaseMuntHole002 (cut, through all)
    with BuildSketch(Plane(origin=(0, 7, 0), x_dir=(1, 0, 0), z_dir=(0, 1, 0))):
        with Locations((119.5, 59.5)):
            Circle(SKETCH63_R)
    extrude(amount=-CASEMUNTHOLE002_DEPTH, mode=Mode.SUBTRACT)

    # Sketch64 → CaseMuntHole003 (cut, through all)
    with BuildSketch(Plane(origin=(0, 7, 0), x_dir=(1, 0, 0), z_dir=(0, 1, 0))):
        with Locations((119.5, -59.5)):
            Circle(SKETCH64_R)
    extrude(amount=-CASEMUNTHOLE003_DEPTH, mode=Mode.SUBTRACT)

    # Sketch65 → CaseMuntHole004 (cut, through all)
    with BuildSketch(Plane(origin=(0, 7, 0), x_dir=(1, 0, 0), z_dir=(0, 1, 0))):
        with Locations((-119.5, -59.5)):
            Circle(SKETCH65_R)
    extrude(amount=-CASEMUNTHOLE004_DEPTH, mode=Mode.SUBTRACT)

    # CaseMountHoleCountersink
    casemountholecountersink_edges = [part.edges().sort_by_distance(p)[0] for p in [
        (-121, 0, -59.5),
        (118, 0, -59.5),
        (118, 0, 59.5),
        (-121, 0, 59.5),
    ]]
    chamfer(casemountholecountersink_edges, length=CASEMOUNTHOLECOUNTERSINK_SIZE)


solid = part.part
